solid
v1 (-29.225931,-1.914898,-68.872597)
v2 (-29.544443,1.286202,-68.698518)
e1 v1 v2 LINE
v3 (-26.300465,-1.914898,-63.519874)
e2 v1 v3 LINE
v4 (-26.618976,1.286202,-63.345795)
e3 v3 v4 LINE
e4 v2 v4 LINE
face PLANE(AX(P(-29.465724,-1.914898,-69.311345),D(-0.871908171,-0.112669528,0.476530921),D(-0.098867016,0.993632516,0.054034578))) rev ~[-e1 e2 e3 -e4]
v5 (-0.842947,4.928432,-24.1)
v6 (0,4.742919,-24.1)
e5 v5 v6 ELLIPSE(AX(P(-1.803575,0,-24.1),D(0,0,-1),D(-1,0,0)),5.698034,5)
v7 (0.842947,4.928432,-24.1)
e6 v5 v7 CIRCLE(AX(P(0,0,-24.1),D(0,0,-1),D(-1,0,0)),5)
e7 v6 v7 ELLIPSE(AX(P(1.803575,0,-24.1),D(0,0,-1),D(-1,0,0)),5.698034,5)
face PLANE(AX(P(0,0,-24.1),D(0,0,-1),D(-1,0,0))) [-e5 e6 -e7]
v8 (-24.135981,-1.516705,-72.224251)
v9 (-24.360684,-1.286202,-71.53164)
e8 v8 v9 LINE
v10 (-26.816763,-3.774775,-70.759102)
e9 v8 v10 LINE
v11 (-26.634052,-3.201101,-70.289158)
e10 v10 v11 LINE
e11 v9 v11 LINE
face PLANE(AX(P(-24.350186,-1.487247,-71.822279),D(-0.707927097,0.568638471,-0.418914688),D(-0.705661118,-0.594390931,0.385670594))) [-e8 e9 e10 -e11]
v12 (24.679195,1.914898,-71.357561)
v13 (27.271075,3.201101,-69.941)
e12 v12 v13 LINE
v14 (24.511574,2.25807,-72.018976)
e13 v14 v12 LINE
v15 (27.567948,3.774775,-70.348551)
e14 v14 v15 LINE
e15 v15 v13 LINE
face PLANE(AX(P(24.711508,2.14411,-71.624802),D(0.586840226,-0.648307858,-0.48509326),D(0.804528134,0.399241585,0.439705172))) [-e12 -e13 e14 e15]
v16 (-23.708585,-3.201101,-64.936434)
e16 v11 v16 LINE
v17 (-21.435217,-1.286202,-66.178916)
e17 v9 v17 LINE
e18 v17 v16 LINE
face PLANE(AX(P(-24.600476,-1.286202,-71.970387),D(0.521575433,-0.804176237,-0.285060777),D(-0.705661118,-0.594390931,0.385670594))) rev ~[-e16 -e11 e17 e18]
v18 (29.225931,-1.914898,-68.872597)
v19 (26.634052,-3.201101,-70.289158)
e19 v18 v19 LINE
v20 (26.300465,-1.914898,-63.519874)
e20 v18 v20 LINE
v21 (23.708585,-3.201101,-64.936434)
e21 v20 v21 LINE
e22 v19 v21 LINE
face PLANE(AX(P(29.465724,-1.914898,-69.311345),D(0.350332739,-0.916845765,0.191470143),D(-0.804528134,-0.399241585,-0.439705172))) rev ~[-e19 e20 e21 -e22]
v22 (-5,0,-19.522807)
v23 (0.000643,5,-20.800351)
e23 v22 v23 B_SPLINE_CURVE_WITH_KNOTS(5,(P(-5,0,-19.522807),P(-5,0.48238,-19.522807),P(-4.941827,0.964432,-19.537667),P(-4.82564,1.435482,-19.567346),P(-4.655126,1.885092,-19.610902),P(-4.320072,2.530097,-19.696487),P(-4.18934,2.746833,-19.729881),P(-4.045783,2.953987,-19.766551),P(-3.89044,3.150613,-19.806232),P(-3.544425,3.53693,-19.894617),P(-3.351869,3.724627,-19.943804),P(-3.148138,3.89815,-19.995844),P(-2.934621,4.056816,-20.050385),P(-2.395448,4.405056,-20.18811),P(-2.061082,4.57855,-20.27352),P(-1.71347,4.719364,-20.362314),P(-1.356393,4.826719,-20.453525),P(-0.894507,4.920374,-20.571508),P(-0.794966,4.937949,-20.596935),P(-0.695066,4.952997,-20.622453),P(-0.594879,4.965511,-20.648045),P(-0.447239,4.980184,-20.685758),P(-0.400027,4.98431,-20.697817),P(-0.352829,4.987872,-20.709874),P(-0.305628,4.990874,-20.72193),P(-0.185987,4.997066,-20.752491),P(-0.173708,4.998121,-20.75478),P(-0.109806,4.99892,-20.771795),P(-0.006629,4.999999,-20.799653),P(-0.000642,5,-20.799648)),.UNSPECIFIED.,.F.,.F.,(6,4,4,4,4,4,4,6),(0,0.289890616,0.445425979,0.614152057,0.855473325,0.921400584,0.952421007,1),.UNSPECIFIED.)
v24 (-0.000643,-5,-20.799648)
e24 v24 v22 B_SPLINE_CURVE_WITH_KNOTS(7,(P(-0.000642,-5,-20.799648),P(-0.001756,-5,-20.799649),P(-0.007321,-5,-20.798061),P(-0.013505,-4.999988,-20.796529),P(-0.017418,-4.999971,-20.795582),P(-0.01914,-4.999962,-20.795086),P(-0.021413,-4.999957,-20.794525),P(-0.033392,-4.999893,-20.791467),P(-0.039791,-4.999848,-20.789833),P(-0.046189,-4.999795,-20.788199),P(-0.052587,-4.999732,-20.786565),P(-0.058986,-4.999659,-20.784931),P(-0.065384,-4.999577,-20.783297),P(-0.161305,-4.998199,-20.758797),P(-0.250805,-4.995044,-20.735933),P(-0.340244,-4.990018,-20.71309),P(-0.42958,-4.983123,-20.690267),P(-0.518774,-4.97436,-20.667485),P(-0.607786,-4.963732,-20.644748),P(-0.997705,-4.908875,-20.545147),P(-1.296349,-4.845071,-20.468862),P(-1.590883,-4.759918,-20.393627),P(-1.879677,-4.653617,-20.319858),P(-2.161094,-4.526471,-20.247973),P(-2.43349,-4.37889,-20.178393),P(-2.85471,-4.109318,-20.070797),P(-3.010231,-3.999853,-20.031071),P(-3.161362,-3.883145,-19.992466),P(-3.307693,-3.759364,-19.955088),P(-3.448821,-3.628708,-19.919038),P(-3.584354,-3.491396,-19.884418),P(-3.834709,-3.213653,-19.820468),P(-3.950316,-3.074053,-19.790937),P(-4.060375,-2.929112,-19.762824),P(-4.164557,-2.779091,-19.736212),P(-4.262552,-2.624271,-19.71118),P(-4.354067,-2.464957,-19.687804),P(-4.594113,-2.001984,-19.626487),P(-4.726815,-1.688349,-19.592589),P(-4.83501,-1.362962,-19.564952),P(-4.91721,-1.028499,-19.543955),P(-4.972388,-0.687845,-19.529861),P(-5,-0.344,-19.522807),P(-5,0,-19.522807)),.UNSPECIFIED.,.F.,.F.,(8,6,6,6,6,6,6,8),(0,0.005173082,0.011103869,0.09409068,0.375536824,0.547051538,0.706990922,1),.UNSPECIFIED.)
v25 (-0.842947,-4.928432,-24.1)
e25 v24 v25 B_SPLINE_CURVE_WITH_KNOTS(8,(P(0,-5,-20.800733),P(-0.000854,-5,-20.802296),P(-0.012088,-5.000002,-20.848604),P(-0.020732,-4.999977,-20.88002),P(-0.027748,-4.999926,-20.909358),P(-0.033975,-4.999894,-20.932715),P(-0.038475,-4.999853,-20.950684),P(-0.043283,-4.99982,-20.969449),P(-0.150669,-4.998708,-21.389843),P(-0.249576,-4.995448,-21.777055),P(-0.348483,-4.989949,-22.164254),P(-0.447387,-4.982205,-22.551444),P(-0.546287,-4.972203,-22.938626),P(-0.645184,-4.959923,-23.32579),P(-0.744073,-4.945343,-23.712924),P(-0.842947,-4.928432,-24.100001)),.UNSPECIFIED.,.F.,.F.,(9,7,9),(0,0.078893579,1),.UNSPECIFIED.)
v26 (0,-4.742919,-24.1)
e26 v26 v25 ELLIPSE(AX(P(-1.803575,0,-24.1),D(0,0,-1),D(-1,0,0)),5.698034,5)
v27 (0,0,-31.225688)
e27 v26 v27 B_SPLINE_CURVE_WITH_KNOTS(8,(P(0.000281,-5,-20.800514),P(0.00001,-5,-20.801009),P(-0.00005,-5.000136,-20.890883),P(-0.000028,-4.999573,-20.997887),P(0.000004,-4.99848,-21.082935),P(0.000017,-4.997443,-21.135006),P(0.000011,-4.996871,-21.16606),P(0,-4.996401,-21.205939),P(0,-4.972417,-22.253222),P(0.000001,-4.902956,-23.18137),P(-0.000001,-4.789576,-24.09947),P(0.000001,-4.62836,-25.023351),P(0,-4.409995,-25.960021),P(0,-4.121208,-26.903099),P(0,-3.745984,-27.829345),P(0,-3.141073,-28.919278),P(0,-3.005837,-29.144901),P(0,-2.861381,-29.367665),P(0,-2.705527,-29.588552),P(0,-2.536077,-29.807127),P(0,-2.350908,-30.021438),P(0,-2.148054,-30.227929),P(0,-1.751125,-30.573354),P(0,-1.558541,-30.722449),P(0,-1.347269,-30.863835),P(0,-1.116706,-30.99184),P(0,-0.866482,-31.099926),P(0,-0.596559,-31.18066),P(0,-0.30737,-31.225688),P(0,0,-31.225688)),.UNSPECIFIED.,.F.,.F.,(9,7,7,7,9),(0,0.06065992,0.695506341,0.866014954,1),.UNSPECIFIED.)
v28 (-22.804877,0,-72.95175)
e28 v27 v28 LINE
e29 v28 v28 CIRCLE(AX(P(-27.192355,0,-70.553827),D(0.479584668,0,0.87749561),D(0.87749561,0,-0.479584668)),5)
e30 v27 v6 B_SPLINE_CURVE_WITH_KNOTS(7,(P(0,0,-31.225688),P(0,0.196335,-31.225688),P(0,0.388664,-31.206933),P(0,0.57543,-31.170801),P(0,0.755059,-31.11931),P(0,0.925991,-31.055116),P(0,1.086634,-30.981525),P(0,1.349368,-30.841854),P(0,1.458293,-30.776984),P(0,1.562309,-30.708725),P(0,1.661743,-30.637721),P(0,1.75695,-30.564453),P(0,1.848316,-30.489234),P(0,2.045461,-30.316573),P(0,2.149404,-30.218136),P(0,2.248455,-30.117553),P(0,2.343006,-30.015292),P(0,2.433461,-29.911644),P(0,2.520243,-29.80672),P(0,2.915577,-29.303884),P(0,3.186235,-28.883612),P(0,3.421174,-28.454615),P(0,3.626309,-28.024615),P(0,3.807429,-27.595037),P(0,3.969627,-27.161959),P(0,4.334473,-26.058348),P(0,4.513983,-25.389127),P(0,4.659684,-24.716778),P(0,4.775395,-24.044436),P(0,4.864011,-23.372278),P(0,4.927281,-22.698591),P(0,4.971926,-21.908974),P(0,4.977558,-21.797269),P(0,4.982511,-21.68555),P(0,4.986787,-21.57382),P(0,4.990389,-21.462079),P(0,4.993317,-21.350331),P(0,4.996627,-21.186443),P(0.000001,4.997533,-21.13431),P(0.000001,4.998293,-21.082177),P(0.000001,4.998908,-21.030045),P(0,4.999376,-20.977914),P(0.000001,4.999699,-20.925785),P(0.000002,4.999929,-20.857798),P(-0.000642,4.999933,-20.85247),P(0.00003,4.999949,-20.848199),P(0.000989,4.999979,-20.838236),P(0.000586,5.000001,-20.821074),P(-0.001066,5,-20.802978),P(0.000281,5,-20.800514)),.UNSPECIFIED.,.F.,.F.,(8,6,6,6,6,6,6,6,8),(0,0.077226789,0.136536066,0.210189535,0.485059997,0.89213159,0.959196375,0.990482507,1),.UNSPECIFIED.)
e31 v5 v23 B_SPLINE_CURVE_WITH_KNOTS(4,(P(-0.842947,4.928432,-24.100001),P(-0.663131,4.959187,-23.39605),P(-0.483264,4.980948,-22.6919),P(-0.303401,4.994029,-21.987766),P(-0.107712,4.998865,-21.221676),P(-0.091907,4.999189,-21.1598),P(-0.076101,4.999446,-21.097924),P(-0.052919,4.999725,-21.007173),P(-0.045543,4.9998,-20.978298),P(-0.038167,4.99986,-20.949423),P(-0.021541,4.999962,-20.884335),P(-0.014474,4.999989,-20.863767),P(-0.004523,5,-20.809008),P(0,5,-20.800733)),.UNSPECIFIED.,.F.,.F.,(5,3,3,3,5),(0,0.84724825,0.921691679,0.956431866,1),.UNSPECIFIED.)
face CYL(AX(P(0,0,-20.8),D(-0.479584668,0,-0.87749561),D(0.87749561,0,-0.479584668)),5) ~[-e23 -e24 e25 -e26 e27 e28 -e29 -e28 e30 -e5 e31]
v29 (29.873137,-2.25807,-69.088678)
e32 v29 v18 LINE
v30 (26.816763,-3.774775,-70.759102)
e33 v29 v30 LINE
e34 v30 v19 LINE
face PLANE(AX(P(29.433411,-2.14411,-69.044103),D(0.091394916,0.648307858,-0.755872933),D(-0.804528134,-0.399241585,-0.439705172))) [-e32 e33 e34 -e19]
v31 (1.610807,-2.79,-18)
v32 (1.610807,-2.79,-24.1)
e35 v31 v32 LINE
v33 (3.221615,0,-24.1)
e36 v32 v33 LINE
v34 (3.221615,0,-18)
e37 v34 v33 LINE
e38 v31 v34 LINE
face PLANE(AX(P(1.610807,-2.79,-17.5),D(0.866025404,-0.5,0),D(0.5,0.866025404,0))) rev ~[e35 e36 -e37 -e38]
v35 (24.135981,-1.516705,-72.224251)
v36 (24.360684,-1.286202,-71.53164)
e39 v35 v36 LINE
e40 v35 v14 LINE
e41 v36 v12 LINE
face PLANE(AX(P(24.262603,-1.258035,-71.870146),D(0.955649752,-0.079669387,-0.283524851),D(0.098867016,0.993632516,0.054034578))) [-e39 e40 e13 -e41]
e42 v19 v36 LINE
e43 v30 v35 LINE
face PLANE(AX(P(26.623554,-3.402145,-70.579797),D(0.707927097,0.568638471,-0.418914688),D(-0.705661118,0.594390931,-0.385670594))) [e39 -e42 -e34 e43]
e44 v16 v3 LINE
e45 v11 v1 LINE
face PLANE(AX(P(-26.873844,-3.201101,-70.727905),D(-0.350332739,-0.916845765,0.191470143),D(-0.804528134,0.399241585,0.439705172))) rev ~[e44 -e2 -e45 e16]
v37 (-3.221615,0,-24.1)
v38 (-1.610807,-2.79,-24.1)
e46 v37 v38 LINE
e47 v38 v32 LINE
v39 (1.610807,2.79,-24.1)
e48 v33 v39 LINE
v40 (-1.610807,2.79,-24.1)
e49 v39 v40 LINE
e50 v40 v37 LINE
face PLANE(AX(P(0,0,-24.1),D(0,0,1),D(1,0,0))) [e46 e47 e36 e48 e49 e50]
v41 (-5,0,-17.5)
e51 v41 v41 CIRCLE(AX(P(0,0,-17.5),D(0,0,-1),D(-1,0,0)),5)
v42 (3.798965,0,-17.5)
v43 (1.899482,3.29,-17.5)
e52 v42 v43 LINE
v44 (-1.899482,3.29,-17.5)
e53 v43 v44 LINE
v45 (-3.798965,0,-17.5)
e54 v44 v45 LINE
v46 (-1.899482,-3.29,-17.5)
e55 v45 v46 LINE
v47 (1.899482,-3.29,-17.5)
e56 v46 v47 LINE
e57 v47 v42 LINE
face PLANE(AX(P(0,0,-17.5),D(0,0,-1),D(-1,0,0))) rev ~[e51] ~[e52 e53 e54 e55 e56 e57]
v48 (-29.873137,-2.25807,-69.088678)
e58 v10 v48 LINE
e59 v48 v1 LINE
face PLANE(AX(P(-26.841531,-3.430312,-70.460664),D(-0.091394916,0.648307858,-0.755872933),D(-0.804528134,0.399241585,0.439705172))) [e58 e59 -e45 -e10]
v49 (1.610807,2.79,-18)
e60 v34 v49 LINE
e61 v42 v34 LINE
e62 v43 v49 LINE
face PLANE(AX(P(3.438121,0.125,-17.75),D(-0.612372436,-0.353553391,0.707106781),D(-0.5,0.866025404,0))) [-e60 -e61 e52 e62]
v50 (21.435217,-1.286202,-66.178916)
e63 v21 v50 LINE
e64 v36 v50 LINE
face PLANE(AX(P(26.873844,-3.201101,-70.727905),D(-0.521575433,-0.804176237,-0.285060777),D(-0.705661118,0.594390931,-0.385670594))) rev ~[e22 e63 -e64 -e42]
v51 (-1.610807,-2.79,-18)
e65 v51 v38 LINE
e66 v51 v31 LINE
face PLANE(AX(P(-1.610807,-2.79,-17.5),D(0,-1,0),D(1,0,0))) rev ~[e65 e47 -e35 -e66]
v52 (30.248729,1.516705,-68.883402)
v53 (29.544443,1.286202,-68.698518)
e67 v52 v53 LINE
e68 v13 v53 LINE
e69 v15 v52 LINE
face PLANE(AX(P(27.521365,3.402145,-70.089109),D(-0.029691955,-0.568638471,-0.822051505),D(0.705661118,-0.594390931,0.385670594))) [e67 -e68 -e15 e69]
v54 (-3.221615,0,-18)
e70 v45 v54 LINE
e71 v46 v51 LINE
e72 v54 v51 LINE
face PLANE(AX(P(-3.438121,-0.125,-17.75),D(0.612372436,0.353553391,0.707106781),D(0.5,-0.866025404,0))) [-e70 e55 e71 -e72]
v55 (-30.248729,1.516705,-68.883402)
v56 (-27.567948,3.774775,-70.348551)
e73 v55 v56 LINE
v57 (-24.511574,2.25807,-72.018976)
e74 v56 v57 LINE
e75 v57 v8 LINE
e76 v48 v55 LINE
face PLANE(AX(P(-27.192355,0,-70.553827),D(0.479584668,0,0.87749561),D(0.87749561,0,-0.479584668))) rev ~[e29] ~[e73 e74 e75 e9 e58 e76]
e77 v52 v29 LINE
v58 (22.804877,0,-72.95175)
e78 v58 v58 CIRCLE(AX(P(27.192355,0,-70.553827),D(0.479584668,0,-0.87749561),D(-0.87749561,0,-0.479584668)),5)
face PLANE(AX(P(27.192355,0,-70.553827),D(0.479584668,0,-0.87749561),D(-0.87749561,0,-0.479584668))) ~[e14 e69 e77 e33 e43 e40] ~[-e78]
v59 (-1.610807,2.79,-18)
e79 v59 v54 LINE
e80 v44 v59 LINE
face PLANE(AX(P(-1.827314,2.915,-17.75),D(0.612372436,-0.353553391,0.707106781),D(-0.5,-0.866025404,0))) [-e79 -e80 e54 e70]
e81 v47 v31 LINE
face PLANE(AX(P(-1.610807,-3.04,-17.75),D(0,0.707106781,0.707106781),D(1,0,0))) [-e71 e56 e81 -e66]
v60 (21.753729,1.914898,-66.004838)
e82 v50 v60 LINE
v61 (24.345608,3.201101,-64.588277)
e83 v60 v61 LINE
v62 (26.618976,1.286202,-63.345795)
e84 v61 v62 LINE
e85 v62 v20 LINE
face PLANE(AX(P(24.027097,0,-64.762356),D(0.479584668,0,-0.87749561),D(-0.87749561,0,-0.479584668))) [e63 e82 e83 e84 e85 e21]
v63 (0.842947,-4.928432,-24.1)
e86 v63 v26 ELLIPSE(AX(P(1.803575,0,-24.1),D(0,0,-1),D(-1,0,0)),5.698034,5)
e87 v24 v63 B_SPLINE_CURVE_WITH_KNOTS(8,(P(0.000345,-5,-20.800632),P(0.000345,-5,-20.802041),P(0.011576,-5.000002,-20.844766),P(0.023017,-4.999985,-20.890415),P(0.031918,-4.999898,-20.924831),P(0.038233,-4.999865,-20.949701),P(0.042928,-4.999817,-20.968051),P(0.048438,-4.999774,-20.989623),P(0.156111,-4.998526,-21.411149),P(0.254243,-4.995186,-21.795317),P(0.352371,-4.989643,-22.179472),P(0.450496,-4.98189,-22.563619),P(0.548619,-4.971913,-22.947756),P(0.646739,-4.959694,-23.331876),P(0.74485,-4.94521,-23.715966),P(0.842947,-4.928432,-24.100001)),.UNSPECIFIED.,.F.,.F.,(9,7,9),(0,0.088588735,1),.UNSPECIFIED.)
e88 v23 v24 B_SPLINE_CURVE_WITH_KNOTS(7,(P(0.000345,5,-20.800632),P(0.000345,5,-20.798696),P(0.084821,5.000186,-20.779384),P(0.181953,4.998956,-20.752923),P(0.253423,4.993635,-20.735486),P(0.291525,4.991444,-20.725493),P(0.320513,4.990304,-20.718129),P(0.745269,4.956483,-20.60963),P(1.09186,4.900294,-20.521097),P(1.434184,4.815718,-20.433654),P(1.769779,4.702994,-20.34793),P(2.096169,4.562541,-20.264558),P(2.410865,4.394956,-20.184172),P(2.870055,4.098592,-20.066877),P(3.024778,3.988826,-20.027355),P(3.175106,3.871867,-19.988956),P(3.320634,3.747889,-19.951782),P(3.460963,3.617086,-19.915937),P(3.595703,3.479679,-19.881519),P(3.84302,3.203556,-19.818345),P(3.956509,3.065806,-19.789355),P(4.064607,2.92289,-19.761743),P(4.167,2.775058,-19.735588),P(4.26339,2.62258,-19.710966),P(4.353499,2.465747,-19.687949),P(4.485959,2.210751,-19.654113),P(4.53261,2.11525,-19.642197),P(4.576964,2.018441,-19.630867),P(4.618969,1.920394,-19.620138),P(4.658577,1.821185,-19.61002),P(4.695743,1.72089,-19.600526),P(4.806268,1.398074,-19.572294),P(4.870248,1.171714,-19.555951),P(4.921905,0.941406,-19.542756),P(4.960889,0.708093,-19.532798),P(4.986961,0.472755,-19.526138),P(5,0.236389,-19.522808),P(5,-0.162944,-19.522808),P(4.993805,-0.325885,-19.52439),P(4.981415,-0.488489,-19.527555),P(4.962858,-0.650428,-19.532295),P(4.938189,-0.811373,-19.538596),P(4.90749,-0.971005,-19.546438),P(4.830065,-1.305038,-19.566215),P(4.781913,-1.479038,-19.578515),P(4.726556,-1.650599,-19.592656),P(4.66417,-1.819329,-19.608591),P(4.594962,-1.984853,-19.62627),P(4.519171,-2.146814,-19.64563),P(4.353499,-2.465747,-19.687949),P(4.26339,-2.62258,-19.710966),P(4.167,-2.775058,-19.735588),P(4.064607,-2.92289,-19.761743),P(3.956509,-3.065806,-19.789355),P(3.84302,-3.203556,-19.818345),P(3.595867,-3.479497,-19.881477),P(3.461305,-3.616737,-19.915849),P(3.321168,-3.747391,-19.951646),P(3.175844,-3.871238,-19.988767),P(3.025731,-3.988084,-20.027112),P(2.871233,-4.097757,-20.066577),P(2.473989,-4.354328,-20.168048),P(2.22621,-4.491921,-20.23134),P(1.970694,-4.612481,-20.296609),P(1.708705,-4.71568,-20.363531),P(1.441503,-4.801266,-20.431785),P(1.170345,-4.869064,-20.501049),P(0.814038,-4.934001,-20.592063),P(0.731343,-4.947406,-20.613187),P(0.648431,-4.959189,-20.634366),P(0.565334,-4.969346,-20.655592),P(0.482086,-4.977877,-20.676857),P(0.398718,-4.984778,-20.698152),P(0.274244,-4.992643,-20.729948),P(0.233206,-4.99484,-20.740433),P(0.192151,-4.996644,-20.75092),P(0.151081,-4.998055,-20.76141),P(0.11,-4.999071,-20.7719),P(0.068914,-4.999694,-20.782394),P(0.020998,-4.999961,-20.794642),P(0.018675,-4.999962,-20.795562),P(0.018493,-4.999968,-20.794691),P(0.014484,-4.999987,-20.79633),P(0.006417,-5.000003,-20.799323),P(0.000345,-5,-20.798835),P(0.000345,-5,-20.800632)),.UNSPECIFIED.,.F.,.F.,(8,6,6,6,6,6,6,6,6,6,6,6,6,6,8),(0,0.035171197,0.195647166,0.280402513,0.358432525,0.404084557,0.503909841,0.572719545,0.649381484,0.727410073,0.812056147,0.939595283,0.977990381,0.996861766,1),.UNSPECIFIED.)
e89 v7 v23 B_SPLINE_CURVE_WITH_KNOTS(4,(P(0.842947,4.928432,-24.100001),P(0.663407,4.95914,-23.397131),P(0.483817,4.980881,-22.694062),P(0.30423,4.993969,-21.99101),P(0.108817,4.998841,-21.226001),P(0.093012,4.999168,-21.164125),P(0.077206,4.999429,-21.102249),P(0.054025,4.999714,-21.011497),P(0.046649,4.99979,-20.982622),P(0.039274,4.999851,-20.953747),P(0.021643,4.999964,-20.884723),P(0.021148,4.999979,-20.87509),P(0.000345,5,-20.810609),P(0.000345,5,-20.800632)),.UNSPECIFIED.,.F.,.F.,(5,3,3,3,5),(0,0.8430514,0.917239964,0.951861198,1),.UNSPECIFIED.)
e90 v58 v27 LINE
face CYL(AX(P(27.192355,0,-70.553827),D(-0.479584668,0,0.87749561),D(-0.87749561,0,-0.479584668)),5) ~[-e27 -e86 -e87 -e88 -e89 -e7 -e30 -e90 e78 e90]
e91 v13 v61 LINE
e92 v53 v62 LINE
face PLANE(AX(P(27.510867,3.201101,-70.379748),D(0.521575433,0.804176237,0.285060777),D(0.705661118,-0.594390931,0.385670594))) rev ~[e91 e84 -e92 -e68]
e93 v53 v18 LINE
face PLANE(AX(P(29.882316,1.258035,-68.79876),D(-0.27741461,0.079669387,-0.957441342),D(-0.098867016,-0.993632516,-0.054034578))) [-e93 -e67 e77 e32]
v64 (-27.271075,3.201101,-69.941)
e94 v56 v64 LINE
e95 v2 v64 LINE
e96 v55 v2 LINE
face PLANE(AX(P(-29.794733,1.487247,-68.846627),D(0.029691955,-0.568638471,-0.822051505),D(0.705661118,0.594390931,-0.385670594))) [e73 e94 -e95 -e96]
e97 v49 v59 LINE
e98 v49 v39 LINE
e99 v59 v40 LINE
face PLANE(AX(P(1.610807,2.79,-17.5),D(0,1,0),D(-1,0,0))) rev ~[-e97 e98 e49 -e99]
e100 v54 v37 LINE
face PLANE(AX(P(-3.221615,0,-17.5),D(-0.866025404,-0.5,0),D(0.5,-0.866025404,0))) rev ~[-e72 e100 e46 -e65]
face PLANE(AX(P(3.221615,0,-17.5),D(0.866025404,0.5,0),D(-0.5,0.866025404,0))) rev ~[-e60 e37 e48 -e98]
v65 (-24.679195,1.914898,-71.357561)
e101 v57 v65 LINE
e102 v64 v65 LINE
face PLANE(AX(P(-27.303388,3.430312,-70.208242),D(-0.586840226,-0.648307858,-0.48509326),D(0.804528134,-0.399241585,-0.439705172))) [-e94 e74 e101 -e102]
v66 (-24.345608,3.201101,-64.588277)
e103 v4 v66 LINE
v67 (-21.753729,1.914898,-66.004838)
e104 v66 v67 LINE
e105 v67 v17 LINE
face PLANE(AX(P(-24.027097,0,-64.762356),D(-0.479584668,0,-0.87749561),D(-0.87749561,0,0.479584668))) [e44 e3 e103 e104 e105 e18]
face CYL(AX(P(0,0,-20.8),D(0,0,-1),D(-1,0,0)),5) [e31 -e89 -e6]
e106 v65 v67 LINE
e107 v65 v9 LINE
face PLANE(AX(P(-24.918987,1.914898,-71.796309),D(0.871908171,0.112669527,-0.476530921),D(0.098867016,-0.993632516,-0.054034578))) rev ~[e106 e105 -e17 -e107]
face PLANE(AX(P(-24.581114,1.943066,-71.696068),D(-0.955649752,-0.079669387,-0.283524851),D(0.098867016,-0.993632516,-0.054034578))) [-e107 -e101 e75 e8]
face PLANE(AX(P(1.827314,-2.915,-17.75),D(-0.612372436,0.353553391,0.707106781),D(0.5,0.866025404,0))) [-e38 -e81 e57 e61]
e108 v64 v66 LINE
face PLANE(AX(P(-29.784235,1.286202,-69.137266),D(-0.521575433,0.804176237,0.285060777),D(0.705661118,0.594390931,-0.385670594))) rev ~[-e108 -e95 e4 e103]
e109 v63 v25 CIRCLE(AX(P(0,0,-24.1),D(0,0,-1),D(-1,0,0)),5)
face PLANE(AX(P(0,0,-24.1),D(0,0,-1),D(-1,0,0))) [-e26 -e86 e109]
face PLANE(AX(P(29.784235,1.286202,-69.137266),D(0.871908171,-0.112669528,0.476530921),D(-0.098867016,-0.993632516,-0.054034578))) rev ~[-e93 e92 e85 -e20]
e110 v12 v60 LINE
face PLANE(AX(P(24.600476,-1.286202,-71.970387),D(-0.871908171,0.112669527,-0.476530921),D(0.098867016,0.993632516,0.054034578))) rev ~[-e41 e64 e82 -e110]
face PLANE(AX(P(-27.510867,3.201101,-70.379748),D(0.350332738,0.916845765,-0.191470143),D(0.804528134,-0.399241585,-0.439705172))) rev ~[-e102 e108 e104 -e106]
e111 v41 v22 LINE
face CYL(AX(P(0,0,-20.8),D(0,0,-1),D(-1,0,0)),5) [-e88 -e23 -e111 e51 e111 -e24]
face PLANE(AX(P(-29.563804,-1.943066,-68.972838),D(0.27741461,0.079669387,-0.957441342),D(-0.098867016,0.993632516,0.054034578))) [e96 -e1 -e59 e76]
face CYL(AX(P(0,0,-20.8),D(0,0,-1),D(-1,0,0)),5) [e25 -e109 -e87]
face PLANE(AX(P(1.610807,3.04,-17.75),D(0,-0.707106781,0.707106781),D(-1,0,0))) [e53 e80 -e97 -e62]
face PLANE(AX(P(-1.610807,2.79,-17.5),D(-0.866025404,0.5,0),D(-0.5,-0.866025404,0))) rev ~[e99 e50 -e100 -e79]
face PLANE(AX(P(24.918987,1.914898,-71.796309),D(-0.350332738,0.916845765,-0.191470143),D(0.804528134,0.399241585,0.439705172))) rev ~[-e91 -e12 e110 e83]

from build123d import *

# Parameters (mm, degrees)
SKETCH1_W          = 5
SKETCH1_H          = 6.6
CUT_EXTRUDE1_DEPTH = 6.6
CUT_EXTRUDE2_DEPTH = 6.6
CUT_EXTRUDE3_DEPTH = 6.6
CHAMFER1_SIZE      = 0.5


with BuildPart() as part:
    # Sketch1 → Revolve-Thin1 (revolve)
    with BuildSketch(Plane(origin=(0, 0, 0), x_dir=(1, 0, 0), z_dir=(0, 1, 0))):
        with Locations((-2.5, 20.8)):
            Rectangle(SKETCH1_W, SKETCH1_H)
    revolve(axis=Axis((0, 0, 0), (0, 0, -1)))

    # Sketch3 → Revolve-Thin2 (revolve)
    with BuildSketch(Plane(origin=(0, 0, 0), x_dir=(1, 0, 0), z_dir=(0, 1, 0))):
        Polygon((-27.192355447, 70.553826822), (0, 20.8), (4.387478051, 23.197923342), (-22.804877396, 72.951750164), align=None)
    revolve(axis=Axis((-27.192355447, 0, -70.553826822), (0.479584668, 0, 0.87749561)))

    # Sketch4 → Revolve-Thin3 (revolve)
    with BuildSketch(Plane(origin=(0, 0, 0), x_dir=(1, 0, 0), z_dir=(0, 1, 0))):
        Polygon((0, 20.8), (27.192355447, 70.553826822), (22.804877396, 72.951750164), (-4.387478051, 23.197923342), align=None)
    revolve(axis=Axis((0, 0, -20.8), (0.479584668, 0, -0.87749561)))

    # Sketch5 → Cut-Extrude1 (cut)
    with BuildSketch(Plane(origin=(-35.945691024, 0, -65.769796576), x_dir=(-0.87749561, 0, 0.479584668), z_dir=(-0.479584668, 0, -0.87749561))):
        Polygon((-7.021637489, 1.286202481), (-9.612383318, 3.201100925), (-12.566106931, 1.914898444), (-12.929084714, -1.286202481), (-10.338338885, -3.201100925), (-7.384615273, -1.914898444), align=None)
    extrude(amount=-CUT_EXTRUDE1_DEPTH, mode=Mode.SUBTRACT)

    # Sketch6 → Cut-Extrude2 (cut)
    with BuildSketch(Plane.XY.offset(-17.5)):
        Polygon((1.610807251, 2.79), (-1.610807251, 2.79), (-3.221614502, 0), (-1.610807251, -2.79), (1.610807251, -2.79), (3.221614502, 0), align=None)
    extrude(amount=-CUT_EXTRUDE2_DEPTH, mode=Mode.SUBTRACT)

    # Sketch7 → Cut-Extrude3 (cut)
    with BuildSketch(Plane(origin=(35.945691024, 0, -65.769796576), x_dir=(-0.87749561, 0, -0.479584668), z_dir=(0.479584668, 0, -0.87749561))):
        Polygon((9.612383318, 3.201100925), (7.021637489, 1.286202481), (7.384615273, -1.914898444), (10.338338885, -3.201100925), (12.929084714, -1.286202481), (12.566106931, 1.914898444), align=None)
    extrude(amount=-CUT_EXTRUDE3_DEPTH, mode=Mode.SUBTRACT)

    # Chamfer1
    chamfer1_edges = [part.edges().sort_by_distance(p)[0] for p in [
        (-29.624979245, -0.314347981, -69.224305553),
        (-28.647550905, 2.243651703, -69.758507252),
        (-26.214927107, 2.557999684, -71.088028522),
        (-24.75973165, 0.314347981, -71.883348091),
        (-25.73715999, -2.243651703, -71.349146391),
        (-28.169783788, -2.557999684, -70.019625122),
        (2.416210877, 1.395, -17.5),
        (0, 2.79, -17.5),
        (-2.416210877, 1.395, -17.5),
        (-2.416210877, -1.395, -17.5),
        (0, -2.79, -17.5),
        (2.416210877, -1.395, -17.5),
        (26.214927107, 2.557999684, -71.088028522),
        (28.647550905, 2.243651703, -69.758507252),
        (29.624979245, -0.314347981, -69.224305553),
        (28.169783788, -2.557999684, -70.019625122),
        (25.73715999, -2.243651703, -71.349146391),
        (24.75973165, 0.314347981, -71.883348091),
    ]]
    chamfer(chamfer1_edges, length=CHAMFER1_SIZE)


solid = part.part
